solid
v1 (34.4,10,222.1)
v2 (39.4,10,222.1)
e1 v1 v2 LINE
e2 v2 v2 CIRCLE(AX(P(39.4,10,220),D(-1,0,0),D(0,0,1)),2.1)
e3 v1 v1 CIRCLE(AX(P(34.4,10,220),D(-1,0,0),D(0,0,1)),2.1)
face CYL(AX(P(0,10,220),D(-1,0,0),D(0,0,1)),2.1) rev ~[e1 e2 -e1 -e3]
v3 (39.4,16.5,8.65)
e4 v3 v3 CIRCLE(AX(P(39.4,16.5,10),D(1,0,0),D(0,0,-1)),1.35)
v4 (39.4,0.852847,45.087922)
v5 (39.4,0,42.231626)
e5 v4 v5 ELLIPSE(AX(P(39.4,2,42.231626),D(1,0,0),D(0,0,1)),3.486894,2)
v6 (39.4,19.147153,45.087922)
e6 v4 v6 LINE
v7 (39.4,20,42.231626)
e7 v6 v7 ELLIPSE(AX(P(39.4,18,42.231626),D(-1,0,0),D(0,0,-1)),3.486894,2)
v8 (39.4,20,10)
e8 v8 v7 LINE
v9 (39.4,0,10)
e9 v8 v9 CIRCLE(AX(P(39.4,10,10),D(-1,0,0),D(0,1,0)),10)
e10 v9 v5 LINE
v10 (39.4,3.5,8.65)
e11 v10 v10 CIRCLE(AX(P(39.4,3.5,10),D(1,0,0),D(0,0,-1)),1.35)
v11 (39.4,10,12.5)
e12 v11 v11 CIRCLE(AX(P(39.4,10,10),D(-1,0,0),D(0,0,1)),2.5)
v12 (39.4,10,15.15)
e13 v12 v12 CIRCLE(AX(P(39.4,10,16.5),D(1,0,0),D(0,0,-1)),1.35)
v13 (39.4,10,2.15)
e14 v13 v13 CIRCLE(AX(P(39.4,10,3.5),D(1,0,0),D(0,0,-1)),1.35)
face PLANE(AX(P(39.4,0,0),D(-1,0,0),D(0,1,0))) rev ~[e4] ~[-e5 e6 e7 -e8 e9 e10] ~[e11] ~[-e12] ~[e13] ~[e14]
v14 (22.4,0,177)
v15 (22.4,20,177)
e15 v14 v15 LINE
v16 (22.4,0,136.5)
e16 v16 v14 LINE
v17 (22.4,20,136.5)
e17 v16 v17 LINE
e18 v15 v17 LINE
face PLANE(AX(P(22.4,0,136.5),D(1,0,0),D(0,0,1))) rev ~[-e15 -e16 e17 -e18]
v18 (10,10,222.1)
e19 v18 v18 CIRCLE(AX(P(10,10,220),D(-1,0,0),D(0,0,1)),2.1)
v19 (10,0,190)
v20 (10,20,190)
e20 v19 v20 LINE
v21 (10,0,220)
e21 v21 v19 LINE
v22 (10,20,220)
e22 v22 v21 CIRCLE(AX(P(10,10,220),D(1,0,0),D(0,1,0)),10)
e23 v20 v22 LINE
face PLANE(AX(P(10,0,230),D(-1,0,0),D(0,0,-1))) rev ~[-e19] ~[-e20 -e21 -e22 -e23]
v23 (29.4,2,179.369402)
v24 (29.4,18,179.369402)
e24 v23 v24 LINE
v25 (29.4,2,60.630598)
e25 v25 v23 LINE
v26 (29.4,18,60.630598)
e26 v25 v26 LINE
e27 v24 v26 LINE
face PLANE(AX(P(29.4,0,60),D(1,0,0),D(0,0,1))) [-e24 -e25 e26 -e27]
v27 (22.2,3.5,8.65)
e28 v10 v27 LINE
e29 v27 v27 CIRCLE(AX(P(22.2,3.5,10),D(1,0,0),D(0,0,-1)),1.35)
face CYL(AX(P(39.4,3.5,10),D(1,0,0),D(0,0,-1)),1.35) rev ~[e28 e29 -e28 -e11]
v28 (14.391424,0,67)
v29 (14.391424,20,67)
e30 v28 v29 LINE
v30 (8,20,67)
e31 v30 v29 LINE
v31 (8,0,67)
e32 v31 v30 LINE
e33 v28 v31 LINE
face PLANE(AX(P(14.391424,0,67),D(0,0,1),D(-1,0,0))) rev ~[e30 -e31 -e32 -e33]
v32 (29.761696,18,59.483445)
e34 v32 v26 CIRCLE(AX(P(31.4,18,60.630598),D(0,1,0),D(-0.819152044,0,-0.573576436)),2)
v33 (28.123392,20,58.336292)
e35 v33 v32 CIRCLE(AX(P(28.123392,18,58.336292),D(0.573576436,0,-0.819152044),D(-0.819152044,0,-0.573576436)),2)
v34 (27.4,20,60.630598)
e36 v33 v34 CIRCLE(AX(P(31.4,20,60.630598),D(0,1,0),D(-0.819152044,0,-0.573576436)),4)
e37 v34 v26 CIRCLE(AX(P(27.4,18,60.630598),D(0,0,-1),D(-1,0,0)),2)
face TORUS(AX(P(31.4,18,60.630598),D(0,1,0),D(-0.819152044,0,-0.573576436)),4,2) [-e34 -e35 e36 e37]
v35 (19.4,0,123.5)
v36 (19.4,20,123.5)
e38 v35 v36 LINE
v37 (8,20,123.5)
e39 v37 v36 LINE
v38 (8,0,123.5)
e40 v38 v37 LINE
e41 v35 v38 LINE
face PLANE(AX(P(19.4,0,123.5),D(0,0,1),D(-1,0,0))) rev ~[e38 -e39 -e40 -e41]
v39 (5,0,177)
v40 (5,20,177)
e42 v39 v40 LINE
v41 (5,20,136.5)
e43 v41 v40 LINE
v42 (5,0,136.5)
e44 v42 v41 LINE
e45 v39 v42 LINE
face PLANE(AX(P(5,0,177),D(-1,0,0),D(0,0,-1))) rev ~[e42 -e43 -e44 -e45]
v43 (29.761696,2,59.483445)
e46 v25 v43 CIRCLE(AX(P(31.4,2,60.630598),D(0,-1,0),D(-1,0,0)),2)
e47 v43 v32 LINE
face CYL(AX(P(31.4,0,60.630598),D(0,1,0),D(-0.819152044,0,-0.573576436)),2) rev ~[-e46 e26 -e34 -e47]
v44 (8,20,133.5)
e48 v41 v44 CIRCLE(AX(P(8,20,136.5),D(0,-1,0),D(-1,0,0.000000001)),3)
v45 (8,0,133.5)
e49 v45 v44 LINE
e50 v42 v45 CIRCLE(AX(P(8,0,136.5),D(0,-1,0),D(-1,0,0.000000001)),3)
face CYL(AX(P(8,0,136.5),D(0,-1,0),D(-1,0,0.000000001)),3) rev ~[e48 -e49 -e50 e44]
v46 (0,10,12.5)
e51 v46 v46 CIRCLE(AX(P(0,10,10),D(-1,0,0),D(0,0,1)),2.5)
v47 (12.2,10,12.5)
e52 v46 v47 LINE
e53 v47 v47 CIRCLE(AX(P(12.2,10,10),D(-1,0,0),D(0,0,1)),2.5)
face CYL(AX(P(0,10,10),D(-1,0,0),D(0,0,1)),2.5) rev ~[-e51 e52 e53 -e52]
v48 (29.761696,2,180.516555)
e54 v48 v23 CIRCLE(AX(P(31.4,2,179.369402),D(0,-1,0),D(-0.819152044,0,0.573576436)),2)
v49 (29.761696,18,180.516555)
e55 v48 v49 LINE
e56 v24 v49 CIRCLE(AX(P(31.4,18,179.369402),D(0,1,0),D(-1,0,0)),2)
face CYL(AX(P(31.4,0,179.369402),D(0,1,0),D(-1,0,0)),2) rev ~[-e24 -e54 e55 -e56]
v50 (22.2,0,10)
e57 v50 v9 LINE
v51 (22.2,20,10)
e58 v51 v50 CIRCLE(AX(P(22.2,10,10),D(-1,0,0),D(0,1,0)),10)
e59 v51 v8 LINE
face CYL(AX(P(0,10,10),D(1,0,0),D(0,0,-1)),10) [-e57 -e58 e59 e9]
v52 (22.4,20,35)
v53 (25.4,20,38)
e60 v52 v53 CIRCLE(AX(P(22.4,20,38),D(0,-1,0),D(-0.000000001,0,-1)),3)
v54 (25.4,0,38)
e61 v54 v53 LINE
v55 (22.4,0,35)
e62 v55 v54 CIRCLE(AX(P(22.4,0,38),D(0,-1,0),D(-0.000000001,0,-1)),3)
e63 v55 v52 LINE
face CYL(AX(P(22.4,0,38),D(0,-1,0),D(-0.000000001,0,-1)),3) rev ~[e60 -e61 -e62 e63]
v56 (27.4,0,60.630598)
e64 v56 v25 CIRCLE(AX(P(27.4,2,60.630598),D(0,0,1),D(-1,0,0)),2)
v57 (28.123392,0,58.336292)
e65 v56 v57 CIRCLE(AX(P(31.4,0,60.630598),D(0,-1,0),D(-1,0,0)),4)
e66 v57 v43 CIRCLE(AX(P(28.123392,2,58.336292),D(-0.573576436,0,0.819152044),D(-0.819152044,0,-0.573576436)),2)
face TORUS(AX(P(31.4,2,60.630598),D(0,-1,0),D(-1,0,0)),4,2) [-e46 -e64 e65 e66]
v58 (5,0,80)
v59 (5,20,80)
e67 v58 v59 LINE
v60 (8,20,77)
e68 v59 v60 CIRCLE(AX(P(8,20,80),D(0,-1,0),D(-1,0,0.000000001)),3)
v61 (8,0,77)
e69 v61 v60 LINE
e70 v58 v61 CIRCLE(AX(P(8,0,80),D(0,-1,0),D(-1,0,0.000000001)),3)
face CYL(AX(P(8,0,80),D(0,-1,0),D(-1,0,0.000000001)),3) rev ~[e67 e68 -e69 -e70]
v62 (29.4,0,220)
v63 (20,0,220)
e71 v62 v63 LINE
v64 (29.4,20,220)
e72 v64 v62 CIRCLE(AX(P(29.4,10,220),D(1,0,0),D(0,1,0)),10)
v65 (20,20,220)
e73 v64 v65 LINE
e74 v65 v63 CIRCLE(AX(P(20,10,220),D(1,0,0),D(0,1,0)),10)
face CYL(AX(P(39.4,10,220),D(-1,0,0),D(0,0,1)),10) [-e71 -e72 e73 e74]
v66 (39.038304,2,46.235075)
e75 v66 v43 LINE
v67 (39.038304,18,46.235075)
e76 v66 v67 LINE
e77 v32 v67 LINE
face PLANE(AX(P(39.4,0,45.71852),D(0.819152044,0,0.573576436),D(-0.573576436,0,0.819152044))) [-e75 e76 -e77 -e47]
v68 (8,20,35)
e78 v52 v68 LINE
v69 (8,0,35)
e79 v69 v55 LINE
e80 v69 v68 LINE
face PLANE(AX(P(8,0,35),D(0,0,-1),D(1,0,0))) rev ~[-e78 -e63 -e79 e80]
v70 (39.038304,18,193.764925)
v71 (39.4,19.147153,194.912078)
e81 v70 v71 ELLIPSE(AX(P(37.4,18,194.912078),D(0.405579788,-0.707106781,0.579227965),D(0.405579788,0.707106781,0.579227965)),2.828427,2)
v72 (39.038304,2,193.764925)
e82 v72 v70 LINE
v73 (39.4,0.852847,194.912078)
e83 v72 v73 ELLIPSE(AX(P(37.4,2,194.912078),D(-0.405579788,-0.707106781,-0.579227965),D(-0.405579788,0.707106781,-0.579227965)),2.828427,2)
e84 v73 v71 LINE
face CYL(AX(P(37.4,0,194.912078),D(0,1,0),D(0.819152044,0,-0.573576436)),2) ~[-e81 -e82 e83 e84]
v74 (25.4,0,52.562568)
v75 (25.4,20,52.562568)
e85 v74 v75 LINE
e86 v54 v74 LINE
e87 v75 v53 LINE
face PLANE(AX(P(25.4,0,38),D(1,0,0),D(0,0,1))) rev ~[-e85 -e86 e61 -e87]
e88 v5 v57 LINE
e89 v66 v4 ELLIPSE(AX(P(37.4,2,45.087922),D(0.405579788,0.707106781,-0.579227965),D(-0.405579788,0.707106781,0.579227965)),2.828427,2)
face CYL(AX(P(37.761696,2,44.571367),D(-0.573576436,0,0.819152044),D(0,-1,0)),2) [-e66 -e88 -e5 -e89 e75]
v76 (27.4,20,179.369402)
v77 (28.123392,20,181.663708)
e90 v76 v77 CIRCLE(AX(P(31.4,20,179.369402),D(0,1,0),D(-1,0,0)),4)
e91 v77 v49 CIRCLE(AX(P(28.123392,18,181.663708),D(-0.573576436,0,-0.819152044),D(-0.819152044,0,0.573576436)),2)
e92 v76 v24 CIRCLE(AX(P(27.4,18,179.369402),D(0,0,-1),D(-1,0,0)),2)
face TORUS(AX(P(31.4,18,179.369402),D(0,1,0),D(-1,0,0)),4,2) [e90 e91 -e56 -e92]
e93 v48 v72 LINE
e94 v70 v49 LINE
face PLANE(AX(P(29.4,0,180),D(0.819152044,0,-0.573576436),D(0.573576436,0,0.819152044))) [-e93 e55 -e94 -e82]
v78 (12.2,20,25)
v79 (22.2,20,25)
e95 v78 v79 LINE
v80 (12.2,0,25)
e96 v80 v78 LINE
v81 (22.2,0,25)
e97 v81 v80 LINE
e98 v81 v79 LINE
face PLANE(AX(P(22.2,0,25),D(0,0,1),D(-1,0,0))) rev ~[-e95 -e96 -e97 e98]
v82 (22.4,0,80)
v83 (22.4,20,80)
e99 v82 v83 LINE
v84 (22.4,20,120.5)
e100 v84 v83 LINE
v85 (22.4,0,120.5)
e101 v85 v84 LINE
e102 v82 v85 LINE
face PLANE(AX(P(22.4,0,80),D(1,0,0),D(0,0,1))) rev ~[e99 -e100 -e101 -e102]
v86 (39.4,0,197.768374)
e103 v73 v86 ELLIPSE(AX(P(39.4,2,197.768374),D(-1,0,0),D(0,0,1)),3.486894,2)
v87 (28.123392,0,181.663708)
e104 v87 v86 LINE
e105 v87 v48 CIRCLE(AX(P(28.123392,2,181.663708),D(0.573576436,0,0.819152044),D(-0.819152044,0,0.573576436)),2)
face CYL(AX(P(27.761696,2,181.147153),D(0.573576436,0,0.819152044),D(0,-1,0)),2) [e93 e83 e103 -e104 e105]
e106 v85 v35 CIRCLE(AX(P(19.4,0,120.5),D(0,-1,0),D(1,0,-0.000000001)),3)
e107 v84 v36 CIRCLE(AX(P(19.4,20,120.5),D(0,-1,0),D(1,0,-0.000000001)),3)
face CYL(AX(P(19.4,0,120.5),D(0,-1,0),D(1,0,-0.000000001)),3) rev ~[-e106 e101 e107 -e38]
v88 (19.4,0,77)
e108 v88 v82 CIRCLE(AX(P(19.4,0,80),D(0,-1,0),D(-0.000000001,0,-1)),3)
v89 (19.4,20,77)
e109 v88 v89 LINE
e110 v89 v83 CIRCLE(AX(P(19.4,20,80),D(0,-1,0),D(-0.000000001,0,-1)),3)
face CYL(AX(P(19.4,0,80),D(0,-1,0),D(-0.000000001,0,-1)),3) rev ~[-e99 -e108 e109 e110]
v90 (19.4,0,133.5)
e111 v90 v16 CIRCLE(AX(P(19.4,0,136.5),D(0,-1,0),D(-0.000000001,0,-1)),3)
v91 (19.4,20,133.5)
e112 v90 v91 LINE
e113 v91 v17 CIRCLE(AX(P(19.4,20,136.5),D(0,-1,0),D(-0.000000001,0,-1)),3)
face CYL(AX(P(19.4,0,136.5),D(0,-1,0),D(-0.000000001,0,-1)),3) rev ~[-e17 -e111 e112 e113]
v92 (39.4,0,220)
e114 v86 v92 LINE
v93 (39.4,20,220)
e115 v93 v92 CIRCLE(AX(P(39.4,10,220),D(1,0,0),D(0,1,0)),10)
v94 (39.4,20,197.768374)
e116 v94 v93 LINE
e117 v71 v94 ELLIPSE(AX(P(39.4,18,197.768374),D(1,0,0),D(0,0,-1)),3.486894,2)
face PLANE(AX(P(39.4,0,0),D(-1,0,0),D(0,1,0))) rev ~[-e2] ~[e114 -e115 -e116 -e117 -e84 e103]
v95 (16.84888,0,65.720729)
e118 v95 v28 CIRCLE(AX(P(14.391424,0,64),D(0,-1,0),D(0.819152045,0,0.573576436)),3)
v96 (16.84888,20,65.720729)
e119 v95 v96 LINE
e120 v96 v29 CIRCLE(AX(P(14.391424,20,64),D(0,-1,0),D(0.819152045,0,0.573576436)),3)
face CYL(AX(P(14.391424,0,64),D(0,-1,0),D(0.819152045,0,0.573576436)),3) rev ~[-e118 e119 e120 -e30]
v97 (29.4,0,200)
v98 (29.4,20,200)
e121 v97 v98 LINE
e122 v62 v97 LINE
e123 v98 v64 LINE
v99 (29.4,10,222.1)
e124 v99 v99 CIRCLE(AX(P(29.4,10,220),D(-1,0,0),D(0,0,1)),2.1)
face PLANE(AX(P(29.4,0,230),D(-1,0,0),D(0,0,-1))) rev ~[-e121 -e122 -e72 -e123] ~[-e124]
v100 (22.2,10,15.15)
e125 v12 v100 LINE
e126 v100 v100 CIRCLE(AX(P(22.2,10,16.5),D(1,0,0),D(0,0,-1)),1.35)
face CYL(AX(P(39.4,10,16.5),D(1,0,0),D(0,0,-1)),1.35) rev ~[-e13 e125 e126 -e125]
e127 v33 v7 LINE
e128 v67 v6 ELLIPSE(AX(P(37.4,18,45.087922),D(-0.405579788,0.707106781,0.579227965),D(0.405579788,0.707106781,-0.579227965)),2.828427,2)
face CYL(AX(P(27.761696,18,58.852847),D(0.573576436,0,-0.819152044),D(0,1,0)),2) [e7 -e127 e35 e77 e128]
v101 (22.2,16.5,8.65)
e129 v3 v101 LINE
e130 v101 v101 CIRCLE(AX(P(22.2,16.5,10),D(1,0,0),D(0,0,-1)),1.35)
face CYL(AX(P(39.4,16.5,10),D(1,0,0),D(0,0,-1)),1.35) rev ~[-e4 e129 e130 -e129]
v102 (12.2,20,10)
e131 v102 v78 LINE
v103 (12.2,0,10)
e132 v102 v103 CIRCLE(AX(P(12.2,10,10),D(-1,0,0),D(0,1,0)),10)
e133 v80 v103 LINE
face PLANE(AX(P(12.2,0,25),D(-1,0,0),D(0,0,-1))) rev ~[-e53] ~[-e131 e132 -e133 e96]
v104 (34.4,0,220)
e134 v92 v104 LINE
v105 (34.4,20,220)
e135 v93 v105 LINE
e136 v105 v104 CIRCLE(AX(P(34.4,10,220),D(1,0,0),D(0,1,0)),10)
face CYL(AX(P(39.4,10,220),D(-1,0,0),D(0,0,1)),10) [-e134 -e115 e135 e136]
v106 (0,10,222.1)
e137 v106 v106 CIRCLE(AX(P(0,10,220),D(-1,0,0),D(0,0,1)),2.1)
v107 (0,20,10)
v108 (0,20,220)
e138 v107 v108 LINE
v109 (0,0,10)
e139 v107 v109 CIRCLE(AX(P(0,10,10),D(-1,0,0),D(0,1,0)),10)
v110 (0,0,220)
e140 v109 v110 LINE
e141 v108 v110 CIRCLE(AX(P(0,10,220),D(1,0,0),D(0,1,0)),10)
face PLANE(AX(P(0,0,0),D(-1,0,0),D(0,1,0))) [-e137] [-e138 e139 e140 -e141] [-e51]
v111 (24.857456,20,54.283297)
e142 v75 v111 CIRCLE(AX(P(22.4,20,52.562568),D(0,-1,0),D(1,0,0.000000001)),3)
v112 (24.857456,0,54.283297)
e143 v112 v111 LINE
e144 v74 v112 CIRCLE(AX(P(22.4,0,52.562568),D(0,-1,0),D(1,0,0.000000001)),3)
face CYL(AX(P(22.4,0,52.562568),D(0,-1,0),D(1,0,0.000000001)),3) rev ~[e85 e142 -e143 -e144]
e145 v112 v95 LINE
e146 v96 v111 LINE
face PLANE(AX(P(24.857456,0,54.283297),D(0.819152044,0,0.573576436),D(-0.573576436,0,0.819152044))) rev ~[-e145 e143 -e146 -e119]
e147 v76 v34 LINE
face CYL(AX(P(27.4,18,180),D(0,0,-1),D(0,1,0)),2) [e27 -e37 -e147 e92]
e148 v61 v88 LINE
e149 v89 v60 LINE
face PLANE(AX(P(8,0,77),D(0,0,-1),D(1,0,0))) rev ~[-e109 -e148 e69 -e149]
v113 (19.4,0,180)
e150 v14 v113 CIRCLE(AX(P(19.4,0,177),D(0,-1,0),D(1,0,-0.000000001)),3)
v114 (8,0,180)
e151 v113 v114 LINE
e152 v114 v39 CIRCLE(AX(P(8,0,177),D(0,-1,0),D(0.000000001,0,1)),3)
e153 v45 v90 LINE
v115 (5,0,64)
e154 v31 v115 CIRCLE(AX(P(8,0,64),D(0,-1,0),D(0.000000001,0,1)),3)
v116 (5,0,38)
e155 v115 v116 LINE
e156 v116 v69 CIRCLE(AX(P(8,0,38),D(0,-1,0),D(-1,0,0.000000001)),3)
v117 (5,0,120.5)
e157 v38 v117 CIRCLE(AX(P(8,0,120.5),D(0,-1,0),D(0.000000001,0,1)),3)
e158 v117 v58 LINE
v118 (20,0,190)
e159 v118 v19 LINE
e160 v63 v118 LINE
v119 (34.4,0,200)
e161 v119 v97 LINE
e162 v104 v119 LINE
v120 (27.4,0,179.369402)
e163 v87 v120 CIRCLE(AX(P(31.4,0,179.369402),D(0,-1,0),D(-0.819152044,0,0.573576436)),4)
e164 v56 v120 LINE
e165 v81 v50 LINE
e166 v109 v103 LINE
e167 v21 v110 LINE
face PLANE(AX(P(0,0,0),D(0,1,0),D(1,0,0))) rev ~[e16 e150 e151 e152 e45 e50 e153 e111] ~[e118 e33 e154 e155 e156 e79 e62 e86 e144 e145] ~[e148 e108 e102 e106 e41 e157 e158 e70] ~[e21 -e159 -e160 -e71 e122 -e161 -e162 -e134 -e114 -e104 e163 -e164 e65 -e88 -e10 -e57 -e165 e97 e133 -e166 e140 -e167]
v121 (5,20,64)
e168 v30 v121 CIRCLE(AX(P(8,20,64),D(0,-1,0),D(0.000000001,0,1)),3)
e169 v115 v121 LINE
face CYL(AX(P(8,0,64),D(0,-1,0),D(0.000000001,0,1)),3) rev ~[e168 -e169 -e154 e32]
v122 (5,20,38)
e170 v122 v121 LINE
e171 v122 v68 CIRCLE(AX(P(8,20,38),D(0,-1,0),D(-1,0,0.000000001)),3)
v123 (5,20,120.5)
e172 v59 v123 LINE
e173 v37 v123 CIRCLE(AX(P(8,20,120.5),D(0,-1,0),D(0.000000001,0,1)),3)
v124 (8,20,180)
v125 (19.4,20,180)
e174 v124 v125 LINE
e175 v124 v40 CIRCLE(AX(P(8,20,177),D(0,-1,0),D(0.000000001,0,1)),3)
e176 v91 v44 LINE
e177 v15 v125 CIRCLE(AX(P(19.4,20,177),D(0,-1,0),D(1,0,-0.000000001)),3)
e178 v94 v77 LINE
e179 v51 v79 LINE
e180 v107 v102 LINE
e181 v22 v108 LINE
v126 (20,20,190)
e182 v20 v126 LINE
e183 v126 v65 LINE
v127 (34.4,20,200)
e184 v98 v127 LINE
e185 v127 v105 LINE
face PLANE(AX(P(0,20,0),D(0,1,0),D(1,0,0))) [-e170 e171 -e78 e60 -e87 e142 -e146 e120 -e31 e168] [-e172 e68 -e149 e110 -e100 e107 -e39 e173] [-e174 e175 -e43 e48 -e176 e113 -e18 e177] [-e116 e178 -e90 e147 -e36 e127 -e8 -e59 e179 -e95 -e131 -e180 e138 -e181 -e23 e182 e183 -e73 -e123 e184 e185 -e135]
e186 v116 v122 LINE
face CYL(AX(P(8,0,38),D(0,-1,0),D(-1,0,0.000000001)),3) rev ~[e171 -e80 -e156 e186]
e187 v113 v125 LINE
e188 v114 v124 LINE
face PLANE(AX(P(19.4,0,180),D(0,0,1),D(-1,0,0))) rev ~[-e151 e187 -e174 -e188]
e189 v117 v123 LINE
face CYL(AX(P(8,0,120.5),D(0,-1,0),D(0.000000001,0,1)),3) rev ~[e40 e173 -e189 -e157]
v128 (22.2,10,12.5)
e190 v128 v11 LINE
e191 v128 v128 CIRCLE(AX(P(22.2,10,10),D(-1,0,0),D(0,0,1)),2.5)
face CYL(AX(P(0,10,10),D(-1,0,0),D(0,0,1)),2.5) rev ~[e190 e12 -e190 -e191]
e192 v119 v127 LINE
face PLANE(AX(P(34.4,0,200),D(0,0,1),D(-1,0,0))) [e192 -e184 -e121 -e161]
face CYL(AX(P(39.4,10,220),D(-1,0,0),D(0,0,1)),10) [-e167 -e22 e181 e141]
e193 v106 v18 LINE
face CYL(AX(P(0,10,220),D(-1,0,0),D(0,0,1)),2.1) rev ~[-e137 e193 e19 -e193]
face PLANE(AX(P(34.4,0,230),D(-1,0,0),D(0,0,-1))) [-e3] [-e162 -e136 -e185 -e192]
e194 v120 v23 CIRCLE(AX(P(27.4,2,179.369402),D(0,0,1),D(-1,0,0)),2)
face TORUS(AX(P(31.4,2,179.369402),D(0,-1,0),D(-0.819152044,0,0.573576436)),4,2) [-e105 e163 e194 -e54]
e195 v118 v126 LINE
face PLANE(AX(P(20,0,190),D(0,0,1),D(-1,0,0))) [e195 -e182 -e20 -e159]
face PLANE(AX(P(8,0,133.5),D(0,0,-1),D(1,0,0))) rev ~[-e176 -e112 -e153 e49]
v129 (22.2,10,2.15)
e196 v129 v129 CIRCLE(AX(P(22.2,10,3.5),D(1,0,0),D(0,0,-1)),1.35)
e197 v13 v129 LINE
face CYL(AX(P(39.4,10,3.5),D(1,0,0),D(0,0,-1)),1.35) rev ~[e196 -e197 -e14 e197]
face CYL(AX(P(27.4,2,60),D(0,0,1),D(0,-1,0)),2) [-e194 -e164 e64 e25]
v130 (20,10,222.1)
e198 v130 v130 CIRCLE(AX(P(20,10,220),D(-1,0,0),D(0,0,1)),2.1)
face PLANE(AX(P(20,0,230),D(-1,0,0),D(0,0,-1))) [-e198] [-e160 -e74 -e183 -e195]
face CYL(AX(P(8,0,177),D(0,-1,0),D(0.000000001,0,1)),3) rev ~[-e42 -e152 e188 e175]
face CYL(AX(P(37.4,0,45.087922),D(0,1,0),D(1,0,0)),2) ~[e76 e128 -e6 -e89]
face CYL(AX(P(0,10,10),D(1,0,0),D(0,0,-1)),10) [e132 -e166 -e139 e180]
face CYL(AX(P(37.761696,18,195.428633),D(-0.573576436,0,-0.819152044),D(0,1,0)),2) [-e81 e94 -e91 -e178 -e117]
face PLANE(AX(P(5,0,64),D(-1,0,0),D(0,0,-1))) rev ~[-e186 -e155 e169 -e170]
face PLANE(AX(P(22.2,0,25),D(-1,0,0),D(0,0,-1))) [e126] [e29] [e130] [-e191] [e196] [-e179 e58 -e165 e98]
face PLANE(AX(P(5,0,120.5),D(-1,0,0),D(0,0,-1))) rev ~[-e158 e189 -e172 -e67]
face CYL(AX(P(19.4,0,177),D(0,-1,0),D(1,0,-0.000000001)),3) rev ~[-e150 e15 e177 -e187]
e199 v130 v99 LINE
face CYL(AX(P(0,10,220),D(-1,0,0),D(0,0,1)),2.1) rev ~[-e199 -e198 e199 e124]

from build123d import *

# Parameters (mm, degrees)
SKETCH_1_W          = 39.4
SKETCH_1_H          = 20
EXTRUDE_1_DEPTH     = 230
FILLET_2_RADIUS     = 10
FILLET_2_LENGTH     = 39.4
SKETCH_2_R          = 2.5
CUT_EXTRUDE_1_DEPTH = 235.205806931
SKETCH_3_W          = 10
SKETCH_3_H          = 25
CUT_EXTRUDE_2_DEPTH = 235.205806931
SKETCH_4_R          = 1.35
CUT_EXTRUDE_3_DEPTH = 20
CUT_EXTRUDE_4_DEPTH = 235.205806931
FILLET_4_R          = 2
FILLET_5_RADIUS     = 10
FILLET_5_LENGTH     = 39.4
SKETCH_6_R          = 2.1
CUT_EXTRUDE_5_DEPTH = 235.205806931
SKETCH_7_W          = 10
SKETCH_7_H          = 40
CUT_EXTRUDE_6_DEPTH = 235.205806931
CUT_EXTRUDE_7_DEPTH = 235.205806931
SKETCH_9_W          = 5
SKETCH_9_H          = 30
CUT_EXTRUDE_8_DEPTH = 235.205806931


with BuildPart() as part:
    # 草图1 → 凸台-拉伸1 (new body)
    with BuildSketch(Plane.XY):
        with Locations((19.7, 10)):
            Rectangle(SKETCH_1_W, SKETCH_1_H)
    extrude(amount=EXTRUDE_1_DEPTH)

    # 圆角2: full round fillet: the end face becomes a half cylinder, R = half its width
    fillet_2_face = Plane((19.7, 10, 0), x_dir=(1, 0, 0), z_dir=(0, 0, -1))  # on the end face: x along it, z out of the body
    fillet_2_slab = fillet_2_face.offset(-FILLET_2_RADIUS / 2) * Box(FILLET_2_LENGTH, 2 * FILLET_2_RADIUS, FILLET_2_RADIUS, mode=Mode.PRIVATE)  # the body's end, R deep
    fillet_2_round = Plane((19.7, 10, 10), x_dir=(0, 0, -1), z_dir=(1, 0, 0)) * Cylinder(FILLET_2_RADIUS, FILLET_2_LENGTH, mode=Mode.PRIVATE)  # its axis R under the face
    add(fillet_2_slab - fillet_2_round, mode=Mode.SUBTRACT)

    # 草图2 → 切除-拉伸1 (cut, through all)
    with BuildSketch(Plane.ZY):
        with Locations((10, 10)):
            Circle(SKETCH_2_R)
    extrude(amount=-CUT_EXTRUDE_1_DEPTH, mode=Mode.SUBTRACT)

    # 草图3 → 切除-拉伸2 (cut, through all)
    with BuildSketch(Plane(origin=(0, 0, 0), x_dir=(-1, 0, 0), z_dir=(0, -1, 0))):
        with Locations((-17.2, -12.5)):
            Rectangle(SKETCH_3_W, SKETCH_3_H)
    extrude(amount=-CUT_EXTRUDE_2_DEPTH, mode=Mode.SUBTRACT)

    # 草图4 → 切除-拉伸3 (cut)
    with BuildSketch(Plane(origin=(39.4, 0, 0), x_dir=(0, 0, -1), z_dir=(1, 0, 0))):
        with Locations((-3.5, 10)):
            Circle(SKETCH_4_R)
        with Locations((-10, 16.5)):
            Circle(SKETCH_4_R)
        with Locations((-16.5, 10)):
            Circle(SKETCH_4_R)
        with Locations((-10, 3.5)):
            Circle(SKETCH_4_R)
    extrude(amount=-CUT_EXTRUDE_3_DEPTH, mode=Mode.SUBTRACT)

    # 草图5 → 切除-拉伸4 (cut, through all)
    with BuildSketch(Plane(origin=(0, 0, 0), x_dir=(-1, 0, 0), z_dir=(0, -1, 0))):
        Polygon((-39.4, -45.718519933), (-29.4, -60), (-29.4, -180), (-39.4, -194.281480067), align=None)
    extrude(amount=-CUT_EXTRUDE_4_DEPTH, mode=Mode.SUBTRACT)

    # 圆角4
    fillet_4_edges = [part.edges().sort_by_distance(p)[0] for p in [
        (39.4, 10, 194.281480067),
        (34.4, 20, 52.859259966),
        (39.4, 10, 45.718519933),
        (29.4, 20, 120),
        (29.4, 10, 60),
        (34.4, 20, 187.140740034),
        (29.4, 10, 180),
        (34.4, 0, 187.140740034),
        (29.4, 0, 120),
        (34.4, 0, 52.859259966),
    ]]
    fillet(fillet_4_edges, radius=FILLET_4_R)

    # 圆角5: full round fillet: the end face becomes a half cylinder, R = half its width
    fillet_5_face = Plane((19.7, 10, 230), x_dir=(-1, 0, 0), z_dir=(0, 0, 1))  # on the end face: x along it, z out of the body
    fillet_5_slab = fillet_5_face.offset(-FILLET_5_RADIUS / 2) * Box(FILLET_5_LENGTH, 2 * FILLET_5_RADIUS, FILLET_5_RADIUS, mode=Mode.PRIVATE)  # the body's end, R deep
    fillet_5_round = Plane((19.7, 10, 220), x_dir=(0, 0, 1), z_dir=(-1, 0, 0)) * Cylinder(FILLET_5_RADIUS, FILLET_5_LENGTH, mode=Mode.PRIVATE)  # its axis R under the face
    add(fillet_5_slab - fillet_5_round, mode=Mode.SUBTRACT)

    # 草图6 → 切除-拉伸5 (cut, through all)
    with BuildSketch(Plane.ZY):
        with Locations((220, 10)):
            Circle(SKETCH_6_R)
    extrude(amount=-CUT_EXTRUDE_5_DEPTH, mode=Mode.SUBTRACT)

    # 草图7 → 切除-拉伸6 (cut, through all)
    with BuildSketch(Plane(origin=(0, 0, 0), x_dir=(-1, 0, 0), z_dir=(0, -1, 0))):
        with Locations((-15, -210)):
            Rectangle(SKETCH_7_W, SKETCH_7_H)
    extrude(amount=-CUT_EXTRUDE_6_DEPTH, mode=Mode.SUBTRACT)

    # 草图8 → 切除-拉伸7 (cut, through all)
    with BuildSketch(Plane(origin=(0, 0, 0), x_dir=(-1, 0, 0), z_dir=(0, -1, 0))):
        with BuildLine():
            Line((-5, -64), (-5, -38))
            ThreePointArc((-5, -38), (-5.878679656, -35.878679656), (-8, -35))
            Line((-8, -35), (-22.4, -35))
            ThreePointArc((-22.4, -35), (-24.521320344, -35.878679656), (-25.4, -38))
            Line((-25.4, -38), (-25.4, -52.562568091))
            ThreePointArc((-25.4, -52.562568091), (-25.261150852, -53.464685489), (-24.857456133, -54.2832974))
            Line((-24.857456133, -54.2832974), (-16.848880092, -65.720729309))
            ThreePointArc((-16.848880092, -65.720729309), (-15.776669799, -66.6610325), (-14.39142396, -67))
            Line((-14.39142396, -67), (-8, -67))
            ThreePointArc((-8, -67), (-5.878679656, -66.121320344), (-5, -64))
        make_face()
        with BuildLine():
            Line((-8, -77), (-19.4, -77))
            ThreePointArc((-19.4, -77), (-21.521320344, -77.878679656), (-22.4, -80))
            Line((-22.4, -80), (-22.4, -120.5))
            ThreePointArc((-22.4, -120.5), (-21.521320344, -122.621320344), (-19.4, -123.5))
            Line((-19.4, -123.5), (-8, -123.5))
            ThreePointArc((-8, -123.5), (-5.878679656, -122.621320344), (-5, -120.5))
            Line((-5, -120.5), (-5, -80))
            ThreePointArc((-5, -80), (-5.878679656, -77.878679656), (-8, -77))
        make_face()
        with BuildLine():
            Line((-8, -133.5), (-19.4, -133.5))
            ThreePointArc((-19.4, -133.5), (-21.521320344, -134.378679656), (-22.4, -136.5))
            Line((-22.4, -136.5), (-22.4, -177))
            ThreePointArc((-22.4, -177), (-21.521320344, -179.121320344), (-19.4, -180))
            Line((-19.4, -180), (-8, -180))
            ThreePointArc((-8, -180), (-5.878679656, -179.121320344), (-5, -177))
            Line((-5, -177), (-5, -136.5))
            ThreePointArc((-5, -136.5), (-5.878679656, -134.378679656), (-8, -133.5))
        make_face()
    extrude(amount=-CUT_EXTRUDE_7_DEPTH, mode=Mode.SUBTRACT)

    # 草图9 → 切除-拉伸8 (cut, through all)
    with BuildSketch(Plane(origin=(0, 0, 0), x_dir=(-1, 0, 0), z_dir=(0, -1, 0))):
        with Locations((-31.9, -215)):
            Rectangle(SKETCH_9_W, SKETCH_9_H)
    extrude(amount=-CUT_EXTRUDE_8_DEPTH, mode=Mode.SUBTRACT)


solid = part.part
